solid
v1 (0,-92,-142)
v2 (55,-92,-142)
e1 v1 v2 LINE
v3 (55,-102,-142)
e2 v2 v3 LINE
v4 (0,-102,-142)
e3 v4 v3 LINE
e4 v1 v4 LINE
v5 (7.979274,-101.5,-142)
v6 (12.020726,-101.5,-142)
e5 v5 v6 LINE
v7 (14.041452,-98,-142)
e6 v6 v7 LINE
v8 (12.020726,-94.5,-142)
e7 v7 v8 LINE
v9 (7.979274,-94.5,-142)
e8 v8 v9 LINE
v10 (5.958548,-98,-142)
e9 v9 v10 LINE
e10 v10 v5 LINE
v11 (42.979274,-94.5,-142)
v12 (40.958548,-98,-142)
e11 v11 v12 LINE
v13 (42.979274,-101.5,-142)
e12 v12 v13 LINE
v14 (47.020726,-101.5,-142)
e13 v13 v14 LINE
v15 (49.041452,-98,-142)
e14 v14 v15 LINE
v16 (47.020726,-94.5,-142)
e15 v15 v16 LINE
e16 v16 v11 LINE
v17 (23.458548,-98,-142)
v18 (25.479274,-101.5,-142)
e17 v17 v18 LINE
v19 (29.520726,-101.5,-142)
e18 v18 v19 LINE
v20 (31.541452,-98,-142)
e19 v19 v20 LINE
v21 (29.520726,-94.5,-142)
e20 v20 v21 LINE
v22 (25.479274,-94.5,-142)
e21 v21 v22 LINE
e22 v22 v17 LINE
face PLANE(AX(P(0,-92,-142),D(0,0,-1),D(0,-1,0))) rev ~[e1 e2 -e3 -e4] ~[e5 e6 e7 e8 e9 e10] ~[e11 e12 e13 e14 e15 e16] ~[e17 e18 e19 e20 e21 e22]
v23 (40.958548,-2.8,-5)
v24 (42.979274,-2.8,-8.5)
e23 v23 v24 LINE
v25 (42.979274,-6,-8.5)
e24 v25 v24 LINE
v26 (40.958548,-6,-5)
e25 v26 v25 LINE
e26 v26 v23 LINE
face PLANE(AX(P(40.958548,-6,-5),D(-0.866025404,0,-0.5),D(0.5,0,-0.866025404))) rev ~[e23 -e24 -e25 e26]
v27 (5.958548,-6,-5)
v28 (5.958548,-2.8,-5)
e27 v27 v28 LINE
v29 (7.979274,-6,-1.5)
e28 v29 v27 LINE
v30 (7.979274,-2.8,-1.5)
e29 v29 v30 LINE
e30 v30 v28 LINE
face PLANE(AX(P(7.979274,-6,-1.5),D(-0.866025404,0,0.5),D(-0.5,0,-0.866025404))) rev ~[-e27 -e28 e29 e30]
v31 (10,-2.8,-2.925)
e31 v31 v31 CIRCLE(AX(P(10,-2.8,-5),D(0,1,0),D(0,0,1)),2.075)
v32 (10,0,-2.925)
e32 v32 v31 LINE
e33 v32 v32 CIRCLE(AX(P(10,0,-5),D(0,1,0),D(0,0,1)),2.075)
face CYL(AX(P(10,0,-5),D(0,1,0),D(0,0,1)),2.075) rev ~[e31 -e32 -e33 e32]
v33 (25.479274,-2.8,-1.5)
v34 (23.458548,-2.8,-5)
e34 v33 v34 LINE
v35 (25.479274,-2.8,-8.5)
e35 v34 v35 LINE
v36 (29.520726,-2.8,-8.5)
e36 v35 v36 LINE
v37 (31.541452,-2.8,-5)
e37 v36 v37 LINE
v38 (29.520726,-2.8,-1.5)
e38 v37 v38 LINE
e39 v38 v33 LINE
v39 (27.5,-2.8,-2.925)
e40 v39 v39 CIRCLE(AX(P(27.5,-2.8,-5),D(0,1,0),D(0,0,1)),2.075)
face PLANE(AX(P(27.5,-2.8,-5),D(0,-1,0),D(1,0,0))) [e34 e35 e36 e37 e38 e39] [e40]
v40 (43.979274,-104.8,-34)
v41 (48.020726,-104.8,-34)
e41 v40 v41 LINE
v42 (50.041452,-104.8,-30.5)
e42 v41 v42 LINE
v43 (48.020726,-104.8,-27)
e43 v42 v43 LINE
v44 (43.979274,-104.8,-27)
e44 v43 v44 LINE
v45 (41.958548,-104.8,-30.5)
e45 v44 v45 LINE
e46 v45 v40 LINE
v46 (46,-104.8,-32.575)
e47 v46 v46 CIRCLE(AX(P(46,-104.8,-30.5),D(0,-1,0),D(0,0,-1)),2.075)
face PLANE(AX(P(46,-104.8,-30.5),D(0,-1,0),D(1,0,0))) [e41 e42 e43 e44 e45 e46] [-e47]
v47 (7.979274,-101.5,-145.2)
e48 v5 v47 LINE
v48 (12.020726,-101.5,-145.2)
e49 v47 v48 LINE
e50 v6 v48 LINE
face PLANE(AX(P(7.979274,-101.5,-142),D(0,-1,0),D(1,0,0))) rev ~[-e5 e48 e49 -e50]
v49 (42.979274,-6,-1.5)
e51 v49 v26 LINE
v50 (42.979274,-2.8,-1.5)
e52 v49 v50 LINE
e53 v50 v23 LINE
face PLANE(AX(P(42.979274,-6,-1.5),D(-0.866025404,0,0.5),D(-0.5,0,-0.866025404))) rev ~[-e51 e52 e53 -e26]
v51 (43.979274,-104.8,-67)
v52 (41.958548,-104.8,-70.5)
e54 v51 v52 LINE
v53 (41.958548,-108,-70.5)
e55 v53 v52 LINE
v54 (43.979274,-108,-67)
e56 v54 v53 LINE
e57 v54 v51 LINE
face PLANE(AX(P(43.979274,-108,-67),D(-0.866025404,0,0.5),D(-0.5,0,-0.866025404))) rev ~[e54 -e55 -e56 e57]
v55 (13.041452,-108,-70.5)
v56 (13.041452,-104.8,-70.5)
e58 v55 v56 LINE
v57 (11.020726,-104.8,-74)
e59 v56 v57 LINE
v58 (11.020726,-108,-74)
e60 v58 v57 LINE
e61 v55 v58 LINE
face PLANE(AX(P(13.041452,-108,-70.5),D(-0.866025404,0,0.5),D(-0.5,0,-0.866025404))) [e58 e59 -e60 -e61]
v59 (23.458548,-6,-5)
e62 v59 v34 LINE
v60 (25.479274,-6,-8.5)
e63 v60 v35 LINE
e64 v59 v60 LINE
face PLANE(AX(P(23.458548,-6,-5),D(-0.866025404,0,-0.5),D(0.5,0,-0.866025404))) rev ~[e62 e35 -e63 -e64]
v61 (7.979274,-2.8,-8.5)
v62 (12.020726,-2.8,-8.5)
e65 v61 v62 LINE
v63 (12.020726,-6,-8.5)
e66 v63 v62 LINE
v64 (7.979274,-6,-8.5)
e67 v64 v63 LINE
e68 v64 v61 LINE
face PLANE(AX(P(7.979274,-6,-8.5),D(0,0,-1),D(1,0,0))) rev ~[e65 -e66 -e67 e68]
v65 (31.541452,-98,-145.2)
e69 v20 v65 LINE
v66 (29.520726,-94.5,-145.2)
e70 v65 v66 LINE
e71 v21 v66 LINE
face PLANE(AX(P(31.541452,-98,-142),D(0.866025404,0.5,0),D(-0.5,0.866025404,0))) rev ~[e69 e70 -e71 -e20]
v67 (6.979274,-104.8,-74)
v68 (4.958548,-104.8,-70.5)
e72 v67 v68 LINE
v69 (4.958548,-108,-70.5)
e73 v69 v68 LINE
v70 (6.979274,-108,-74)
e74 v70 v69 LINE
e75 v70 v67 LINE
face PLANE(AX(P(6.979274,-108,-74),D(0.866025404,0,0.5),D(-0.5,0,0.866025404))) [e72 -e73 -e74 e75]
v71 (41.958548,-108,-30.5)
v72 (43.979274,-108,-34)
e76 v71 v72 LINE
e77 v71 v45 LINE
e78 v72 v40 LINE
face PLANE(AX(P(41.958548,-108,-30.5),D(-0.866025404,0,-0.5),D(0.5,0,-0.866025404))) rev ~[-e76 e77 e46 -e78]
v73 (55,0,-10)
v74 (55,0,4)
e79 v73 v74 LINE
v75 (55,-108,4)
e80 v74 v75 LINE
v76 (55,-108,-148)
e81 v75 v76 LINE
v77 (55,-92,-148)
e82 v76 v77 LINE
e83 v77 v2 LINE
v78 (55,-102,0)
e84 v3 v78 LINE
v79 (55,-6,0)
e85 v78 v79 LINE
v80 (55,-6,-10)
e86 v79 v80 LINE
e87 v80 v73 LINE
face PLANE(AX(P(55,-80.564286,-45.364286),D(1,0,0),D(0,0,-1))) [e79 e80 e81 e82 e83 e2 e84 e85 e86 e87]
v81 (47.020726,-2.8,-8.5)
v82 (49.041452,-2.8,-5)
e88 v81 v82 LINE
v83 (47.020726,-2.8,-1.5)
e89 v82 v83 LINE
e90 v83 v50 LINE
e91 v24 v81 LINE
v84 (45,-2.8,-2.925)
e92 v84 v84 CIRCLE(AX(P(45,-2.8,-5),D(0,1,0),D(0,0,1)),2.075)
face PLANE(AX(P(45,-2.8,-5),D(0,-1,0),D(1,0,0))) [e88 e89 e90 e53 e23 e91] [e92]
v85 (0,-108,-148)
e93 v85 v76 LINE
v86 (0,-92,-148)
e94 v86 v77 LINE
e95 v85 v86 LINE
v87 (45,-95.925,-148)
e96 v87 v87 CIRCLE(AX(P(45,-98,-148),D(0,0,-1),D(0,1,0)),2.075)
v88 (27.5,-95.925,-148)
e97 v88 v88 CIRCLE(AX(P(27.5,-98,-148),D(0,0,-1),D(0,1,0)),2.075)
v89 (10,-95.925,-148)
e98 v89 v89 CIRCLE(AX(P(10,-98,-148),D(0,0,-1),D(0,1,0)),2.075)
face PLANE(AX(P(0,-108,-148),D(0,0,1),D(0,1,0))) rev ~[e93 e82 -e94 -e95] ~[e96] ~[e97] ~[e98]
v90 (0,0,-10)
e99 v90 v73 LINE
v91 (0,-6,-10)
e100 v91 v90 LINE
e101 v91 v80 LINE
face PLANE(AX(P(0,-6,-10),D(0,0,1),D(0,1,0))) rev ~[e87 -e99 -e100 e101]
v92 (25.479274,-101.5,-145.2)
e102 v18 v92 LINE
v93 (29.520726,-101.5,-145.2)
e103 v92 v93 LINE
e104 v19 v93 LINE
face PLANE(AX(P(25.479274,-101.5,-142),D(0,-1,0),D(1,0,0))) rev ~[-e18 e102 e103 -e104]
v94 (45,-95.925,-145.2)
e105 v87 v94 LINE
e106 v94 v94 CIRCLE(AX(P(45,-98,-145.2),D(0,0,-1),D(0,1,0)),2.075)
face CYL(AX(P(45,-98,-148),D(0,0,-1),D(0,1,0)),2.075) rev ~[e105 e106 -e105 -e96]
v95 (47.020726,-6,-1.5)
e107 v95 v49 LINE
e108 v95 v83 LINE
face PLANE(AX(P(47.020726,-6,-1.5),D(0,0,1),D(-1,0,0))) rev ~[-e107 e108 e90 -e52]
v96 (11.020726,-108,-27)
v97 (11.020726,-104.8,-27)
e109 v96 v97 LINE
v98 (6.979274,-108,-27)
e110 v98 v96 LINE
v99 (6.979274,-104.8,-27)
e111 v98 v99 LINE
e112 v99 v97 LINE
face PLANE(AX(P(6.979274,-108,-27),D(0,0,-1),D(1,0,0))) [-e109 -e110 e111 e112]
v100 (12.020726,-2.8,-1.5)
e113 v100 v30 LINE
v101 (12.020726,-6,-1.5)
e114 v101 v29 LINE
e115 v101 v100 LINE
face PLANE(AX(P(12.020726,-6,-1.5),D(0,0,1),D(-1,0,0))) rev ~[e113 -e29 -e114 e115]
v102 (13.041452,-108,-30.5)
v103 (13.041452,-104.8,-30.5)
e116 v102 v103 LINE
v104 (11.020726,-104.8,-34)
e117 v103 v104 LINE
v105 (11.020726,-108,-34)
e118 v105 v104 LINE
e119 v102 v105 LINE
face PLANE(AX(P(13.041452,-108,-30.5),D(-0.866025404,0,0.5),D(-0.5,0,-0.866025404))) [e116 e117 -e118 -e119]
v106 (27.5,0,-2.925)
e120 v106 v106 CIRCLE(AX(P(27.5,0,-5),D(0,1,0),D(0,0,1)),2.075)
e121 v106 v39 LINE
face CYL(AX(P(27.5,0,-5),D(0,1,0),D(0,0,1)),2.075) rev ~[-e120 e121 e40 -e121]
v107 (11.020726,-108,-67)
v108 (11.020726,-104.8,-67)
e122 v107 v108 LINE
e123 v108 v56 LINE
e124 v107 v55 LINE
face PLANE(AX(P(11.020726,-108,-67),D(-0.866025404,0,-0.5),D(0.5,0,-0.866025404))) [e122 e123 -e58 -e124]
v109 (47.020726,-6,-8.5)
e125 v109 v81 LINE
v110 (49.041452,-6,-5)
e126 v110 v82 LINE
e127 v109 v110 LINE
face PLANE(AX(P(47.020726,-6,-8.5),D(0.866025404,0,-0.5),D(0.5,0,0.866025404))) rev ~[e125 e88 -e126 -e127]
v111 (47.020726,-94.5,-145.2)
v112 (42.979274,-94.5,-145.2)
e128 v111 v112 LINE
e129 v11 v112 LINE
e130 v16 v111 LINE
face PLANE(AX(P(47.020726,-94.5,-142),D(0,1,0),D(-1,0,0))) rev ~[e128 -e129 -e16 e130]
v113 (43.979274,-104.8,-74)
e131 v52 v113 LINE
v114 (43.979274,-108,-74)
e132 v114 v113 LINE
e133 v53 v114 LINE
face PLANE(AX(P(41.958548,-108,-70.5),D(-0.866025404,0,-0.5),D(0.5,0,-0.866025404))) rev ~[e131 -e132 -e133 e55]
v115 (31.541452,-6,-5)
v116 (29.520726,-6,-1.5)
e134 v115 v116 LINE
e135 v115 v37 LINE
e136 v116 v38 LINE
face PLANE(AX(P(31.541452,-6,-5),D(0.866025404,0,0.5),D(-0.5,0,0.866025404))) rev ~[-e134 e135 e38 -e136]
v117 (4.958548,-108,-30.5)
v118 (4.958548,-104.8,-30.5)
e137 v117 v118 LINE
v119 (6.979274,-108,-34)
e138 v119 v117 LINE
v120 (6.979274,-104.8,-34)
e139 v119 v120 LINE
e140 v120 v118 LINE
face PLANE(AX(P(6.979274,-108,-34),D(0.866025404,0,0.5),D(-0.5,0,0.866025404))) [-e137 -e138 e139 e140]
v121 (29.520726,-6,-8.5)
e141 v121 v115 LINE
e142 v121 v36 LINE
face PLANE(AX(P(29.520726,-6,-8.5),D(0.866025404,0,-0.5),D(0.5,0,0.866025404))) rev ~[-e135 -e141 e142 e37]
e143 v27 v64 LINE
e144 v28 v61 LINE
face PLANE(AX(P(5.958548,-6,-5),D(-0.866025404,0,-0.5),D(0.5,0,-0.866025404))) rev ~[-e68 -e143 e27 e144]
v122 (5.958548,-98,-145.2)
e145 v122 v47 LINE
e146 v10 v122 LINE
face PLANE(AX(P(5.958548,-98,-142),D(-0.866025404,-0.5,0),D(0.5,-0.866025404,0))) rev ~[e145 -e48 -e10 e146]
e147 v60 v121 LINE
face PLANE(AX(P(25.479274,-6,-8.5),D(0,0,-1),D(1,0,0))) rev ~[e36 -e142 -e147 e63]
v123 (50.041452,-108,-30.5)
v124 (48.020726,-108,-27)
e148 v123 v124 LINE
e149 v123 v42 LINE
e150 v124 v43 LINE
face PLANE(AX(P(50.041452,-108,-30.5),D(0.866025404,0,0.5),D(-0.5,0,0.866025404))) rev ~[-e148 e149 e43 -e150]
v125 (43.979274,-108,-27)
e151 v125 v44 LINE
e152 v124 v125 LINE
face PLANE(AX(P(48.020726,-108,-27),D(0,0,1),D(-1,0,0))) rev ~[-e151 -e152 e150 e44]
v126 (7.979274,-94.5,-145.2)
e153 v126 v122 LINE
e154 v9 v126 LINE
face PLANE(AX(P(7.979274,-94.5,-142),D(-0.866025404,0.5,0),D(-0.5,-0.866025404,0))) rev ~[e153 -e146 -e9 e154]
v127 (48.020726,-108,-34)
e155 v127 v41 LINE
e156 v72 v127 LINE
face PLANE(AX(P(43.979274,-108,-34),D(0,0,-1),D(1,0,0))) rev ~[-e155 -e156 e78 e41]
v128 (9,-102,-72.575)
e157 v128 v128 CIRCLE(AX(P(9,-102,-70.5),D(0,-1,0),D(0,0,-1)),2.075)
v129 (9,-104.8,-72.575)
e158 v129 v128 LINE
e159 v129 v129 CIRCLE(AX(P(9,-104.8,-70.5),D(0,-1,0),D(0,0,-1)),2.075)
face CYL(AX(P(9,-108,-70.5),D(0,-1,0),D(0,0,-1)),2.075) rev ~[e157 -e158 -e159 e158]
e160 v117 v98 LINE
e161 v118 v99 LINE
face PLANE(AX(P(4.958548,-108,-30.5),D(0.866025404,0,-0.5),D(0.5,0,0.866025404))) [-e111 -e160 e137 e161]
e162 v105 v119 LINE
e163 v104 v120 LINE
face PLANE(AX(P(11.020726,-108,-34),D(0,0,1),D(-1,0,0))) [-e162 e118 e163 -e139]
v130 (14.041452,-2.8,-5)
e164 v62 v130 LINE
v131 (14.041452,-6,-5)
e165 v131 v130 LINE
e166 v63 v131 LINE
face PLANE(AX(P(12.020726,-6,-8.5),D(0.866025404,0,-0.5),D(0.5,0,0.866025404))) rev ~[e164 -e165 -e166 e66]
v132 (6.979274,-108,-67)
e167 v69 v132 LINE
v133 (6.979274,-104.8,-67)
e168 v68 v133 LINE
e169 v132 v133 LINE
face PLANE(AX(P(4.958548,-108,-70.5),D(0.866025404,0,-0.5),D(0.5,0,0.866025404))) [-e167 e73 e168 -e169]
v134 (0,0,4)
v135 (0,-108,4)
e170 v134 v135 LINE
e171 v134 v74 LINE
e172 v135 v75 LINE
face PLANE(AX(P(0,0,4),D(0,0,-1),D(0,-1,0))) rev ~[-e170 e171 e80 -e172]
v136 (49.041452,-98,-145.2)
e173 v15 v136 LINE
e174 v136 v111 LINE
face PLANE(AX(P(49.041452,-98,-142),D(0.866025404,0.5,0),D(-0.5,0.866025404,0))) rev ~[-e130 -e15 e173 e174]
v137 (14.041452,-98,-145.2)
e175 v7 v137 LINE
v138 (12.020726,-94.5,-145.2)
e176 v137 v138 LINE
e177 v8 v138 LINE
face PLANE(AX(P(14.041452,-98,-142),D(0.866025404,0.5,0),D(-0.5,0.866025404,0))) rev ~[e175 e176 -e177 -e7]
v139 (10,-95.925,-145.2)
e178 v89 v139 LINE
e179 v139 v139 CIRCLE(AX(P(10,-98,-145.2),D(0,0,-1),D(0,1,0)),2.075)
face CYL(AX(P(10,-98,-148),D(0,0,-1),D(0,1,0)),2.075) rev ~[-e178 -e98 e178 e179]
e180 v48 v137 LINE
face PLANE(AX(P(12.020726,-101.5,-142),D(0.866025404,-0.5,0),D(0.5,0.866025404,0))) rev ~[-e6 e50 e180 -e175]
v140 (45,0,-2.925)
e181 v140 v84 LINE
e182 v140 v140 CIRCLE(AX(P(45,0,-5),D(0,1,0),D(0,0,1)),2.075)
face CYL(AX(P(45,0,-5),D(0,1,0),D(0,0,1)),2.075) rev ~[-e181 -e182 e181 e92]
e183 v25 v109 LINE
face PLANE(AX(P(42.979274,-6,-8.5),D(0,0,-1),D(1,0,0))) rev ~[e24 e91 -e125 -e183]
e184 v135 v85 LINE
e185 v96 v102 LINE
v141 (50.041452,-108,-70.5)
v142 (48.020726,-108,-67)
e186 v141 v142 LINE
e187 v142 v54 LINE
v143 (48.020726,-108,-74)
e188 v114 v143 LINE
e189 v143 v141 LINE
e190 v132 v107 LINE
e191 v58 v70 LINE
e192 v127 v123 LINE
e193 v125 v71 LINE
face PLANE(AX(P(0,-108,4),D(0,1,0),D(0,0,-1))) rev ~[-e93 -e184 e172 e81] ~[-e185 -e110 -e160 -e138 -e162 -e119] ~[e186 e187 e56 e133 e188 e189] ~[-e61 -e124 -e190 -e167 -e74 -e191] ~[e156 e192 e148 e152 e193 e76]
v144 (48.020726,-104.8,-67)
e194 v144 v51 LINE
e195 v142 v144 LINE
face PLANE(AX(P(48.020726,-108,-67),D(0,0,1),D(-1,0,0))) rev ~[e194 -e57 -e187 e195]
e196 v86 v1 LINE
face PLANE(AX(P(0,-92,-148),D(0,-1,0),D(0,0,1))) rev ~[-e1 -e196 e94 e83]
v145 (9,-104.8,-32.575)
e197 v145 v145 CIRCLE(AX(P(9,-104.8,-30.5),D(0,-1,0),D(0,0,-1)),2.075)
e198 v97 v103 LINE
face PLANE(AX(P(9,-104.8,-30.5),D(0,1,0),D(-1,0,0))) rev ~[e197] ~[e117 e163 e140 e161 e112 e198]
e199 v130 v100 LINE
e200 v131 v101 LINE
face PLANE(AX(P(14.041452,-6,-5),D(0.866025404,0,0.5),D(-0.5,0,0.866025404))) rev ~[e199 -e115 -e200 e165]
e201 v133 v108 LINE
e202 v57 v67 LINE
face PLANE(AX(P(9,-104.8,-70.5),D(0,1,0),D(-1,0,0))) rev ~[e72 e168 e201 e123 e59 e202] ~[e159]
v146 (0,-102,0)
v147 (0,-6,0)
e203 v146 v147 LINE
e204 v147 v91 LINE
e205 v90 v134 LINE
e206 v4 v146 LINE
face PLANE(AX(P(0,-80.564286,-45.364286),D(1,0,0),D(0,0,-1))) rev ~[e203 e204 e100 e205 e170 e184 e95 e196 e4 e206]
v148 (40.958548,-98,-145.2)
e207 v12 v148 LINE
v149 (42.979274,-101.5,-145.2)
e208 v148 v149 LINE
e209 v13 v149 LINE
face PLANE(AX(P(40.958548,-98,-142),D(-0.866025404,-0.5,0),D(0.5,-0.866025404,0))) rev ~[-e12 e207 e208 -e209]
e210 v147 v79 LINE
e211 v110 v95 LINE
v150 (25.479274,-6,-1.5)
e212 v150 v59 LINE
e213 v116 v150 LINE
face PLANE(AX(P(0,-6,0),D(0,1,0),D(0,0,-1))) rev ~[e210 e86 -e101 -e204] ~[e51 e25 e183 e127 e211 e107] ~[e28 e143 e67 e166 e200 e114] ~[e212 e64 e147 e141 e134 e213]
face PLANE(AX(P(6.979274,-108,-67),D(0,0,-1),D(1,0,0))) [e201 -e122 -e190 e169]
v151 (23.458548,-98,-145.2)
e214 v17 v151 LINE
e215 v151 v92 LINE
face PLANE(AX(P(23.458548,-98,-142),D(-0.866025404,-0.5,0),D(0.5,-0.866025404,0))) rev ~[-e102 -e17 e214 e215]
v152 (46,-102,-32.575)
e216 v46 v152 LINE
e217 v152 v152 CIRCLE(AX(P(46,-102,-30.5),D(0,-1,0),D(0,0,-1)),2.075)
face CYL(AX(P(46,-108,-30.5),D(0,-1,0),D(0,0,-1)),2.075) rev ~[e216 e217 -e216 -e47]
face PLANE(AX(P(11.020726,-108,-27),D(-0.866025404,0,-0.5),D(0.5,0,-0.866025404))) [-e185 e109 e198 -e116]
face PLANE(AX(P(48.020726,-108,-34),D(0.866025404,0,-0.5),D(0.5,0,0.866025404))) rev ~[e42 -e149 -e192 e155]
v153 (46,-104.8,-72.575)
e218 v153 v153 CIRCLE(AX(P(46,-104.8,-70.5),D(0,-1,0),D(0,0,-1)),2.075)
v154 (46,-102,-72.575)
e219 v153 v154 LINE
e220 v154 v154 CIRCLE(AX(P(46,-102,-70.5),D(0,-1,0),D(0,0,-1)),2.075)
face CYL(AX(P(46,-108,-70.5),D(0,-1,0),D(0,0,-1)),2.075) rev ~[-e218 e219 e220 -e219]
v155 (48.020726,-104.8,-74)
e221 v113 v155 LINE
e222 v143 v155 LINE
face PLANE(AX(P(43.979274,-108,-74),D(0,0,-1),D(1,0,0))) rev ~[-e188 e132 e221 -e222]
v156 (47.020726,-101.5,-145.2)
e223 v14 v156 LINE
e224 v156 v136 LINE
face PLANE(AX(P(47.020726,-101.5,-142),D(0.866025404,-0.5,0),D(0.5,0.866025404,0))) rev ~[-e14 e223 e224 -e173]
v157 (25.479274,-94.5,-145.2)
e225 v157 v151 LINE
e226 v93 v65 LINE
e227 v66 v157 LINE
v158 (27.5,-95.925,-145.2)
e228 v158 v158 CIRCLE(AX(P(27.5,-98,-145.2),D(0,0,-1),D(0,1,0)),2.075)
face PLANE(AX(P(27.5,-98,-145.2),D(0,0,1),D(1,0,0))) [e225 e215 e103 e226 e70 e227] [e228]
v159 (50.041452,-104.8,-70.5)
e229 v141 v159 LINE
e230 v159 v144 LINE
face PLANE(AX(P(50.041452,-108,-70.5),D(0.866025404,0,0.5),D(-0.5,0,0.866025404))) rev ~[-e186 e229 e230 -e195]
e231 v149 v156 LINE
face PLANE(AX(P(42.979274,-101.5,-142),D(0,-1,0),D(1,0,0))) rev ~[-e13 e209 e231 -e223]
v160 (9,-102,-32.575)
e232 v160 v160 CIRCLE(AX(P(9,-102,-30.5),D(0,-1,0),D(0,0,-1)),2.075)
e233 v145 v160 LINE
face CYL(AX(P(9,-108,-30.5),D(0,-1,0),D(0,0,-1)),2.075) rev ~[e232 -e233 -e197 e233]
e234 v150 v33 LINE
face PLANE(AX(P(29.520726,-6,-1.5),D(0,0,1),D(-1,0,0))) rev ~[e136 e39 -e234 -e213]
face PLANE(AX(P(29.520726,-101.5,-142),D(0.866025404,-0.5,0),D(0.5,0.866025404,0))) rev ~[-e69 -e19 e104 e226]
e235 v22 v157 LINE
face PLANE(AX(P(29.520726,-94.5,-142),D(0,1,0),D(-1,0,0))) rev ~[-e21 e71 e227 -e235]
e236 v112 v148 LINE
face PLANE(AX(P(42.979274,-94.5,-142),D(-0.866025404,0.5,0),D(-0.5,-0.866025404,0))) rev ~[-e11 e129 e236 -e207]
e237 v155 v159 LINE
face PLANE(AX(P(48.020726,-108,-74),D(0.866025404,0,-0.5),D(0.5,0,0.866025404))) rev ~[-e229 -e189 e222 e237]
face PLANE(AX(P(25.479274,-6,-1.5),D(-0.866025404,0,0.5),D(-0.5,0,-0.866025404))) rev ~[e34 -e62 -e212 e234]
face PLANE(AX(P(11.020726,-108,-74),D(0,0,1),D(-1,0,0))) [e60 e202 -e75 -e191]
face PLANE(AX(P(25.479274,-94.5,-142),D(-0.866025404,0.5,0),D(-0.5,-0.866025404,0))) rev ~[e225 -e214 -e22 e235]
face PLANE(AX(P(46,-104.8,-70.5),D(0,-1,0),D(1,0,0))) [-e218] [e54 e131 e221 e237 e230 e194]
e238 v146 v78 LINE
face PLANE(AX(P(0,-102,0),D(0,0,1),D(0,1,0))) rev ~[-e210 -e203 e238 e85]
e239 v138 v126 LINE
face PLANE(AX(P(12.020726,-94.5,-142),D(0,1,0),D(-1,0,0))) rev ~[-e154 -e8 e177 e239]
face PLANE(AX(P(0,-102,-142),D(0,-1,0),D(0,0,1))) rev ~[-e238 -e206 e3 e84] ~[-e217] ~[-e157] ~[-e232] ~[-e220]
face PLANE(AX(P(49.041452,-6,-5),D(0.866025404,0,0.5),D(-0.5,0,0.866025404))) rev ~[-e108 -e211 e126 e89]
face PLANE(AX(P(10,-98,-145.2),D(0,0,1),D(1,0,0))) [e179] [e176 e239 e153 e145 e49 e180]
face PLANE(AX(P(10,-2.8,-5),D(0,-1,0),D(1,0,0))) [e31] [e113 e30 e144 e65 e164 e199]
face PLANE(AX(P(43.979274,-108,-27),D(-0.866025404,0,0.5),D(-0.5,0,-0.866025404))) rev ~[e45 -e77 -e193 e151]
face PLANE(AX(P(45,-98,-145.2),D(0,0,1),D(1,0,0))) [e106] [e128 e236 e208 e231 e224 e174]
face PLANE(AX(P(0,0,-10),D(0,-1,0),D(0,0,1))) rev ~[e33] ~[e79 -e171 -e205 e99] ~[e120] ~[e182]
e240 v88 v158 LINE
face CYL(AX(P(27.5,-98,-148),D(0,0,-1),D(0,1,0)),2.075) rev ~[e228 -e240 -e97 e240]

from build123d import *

# Parameters (mm, degrees)
BOSS_EXTRUDE1_DEPTH = 55
CUT_EXTRUDE1_REACH  = 193.293
SKETCH2_R           = 2.075
CUT_EXTRUDE2_REACH  = 196.404
SKETCH3_R           = 2.075
CUT_EXTRUDE3_DEPTH  = 3.2
CUT_EXTRUDE4_DEPTH  = 3.2
CUT_EXTRUDE5_REACH  = 193.293
SKETCH6_R           = 2.075
CUT_EXTRUDE6_DEPTH  = 3.2


with BuildPart() as part:
    # Sketch1 → Boss-Extrude1 (new body)
    with BuildSketch(Plane(origin=(0, 0, 0), x_dir=(0, 0, -1), z_dir=(1, 0, 0))):
        Polygon((0, -102), (0, -6), (10, -6), (10, 0), (0, 0), (-4, 0), (-4, -108), (148, -108), (148, -92), (142, -92), (142, -102), align=None)
    extrude(amount=BOSS_EXTRUDE1_DEPTH)

    # Sketch2 → Cut-Extrude1 (cut, up to next)
    with BuildSketch(Plane(origin=(0, 0, 0), x_dir=(1, 0, 0), z_dir=(0, 1, 0)), mode=Mode.PRIVATE) as cut_extrude1_sk1:
        with Locations(Location((10, 5, 0), (0, 0, 270))):
            Circle(SKETCH2_R)
    cut_extrude1_tool1 = extrude(cut_extrude1_sk1.sketch, amount=-CUT_EXTRUDE1_REACH, mode=Mode.PRIVATE) & part.part
    # Sketch2 → Cut-Extrude1 (cut, up to next)
    with BuildSketch(Plane(origin=(0, 0, 0), x_dir=(1, 0, 0), z_dir=(0, 1, 0)), mode=Mode.PRIVATE) as cut_extrude1_sk2:
        with Locations(Location((27.5, 5, 0), (0, 0, 270))):
            Circle(SKETCH2_R)
    cut_extrude1_tool2 = extrude(cut_extrude1_sk2.sketch, amount=-CUT_EXTRUDE1_REACH, mode=Mode.PRIVATE) & part.part
    # Sketch2 → Cut-Extrude1 (cut, up to next)
    with BuildSketch(Plane(origin=(0, 0, 0), x_dir=(1, 0, 0), z_dir=(0, 1, 0)), mode=Mode.PRIVATE) as cut_extrude1_sk3:
        with Locations(Location((45, 5, 0), (0, 0, 270))):
            Circle(SKETCH2_R)
    cut_extrude1_tool3 = extrude(cut_extrude1_sk3.sketch, amount=-CUT_EXTRUDE1_REACH, mode=Mode.PRIVATE) & part.part
    add(cut_extrude1_tool1.solids().sort_by_distance((10, 0, -5))[0], mode=Mode.SUBTRACT)
    add(cut_extrude1_tool2.solids().sort_by_distance((27.5, 0, -5))[0], mode=Mode.SUBTRACT)
    add(cut_extrude1_tool3.solids().sort_by_distance((45, 0, -5))[0], mode=Mode.SUBTRACT)

    # Sketch3 → Cut-Extrude2 (cut, up to next)
    with BuildSketch(Plane(origin=(0, 0, -148), x_dir=(-1, 0, 0), z_dir=(0, 0, -1)), mode=Mode.PRIVATE) as cut_extrude2_sk1:
        with Locations(Location((-45, -98, 0), (0, 0, 90))):
            Circle(SKETCH3_R)
    cut_extrude2_tool1 = extrude(cut_extrude2_sk1.sketch, amount=-CUT_EXTRUDE2_REACH, mode=Mode.PRIVATE) & part.part
    # Sketch3 → Cut-Extrude2 (cut, up to next)
    with BuildSketch(Plane(origin=(0, 0, -148), x_dir=(-1, 0, 0), z_dir=(0, 0, -1)), mode=Mode.PRIVATE) as cut_extrude2_sk2:
        with Locations(Location((-27.5, -98, 0), (0, 0, 90))):
            Circle(SKETCH3_R)
    cut_extrude2_tool2 = extrude(cut_extrude2_sk2.sketch, amount=-CUT_EXTRUDE2_REACH, mode=Mode.PRIVATE) & part.part
    # Sketch3 → Cut-Extrude2 (cut, up to next)
    with BuildSketch(Plane(origin=(0, 0, -148), x_dir=(-1, 0, 0), z_dir=(0, 0, -1)), mode=Mode.PRIVATE) as cut_extrude2_sk3:
        with Locations(Location((-10, -98, 0), (0, 0, 90))):
            Circle(SKETCH3_R)
    cut_extrude2_tool3 = extrude(cut_extrude2_sk3.sketch, amount=-CUT_EXTRUDE2_REACH, mode=Mode.PRIVATE) & part.part
    add(cut_extrude2_tool1.solids().sort_by_distance((45, -98, -148))[0], mode=Mode.SUBTRACT)
    add(cut_extrude2_tool2.solids().sort_by_distance((27.5, -98, -148))[0], mode=Mode.SUBTRACT)
    add(cut_extrude2_tool3.solids().sort_by_distance((10, -98, -148))[0], mode=Mode.SUBTRACT)

    # Sketch4 → Cut-Extrude3 (cut)
    with BuildSketch(Plane.XZ.offset(6)):
        Polygon((49.041451884, -5), (47.020725942, -1.5), (42.979274058, -1.5), (40.958548116, -5), (42.979274058, -8.5), (47.020725942, -8.5), align=None)
        Polygon((29.520725942, -8.5), (31.541451884, -5), (29.520725942, -1.5), (25.479274058, -1.5), (23.458548116, -5), (25.479274058, -8.5), align=None)
        Polygon((14.041451884, -5), (12.020725942, -1.5), (7.979274058, -1.5), (5.958548116, -5), (7.979274058, -8.5), (12.020725942, -8.5), align=None)
    extrude(amount=-CUT_EXTRUDE3_DEPTH, mode=Mode.SUBTRACT)

    # Sketch5 → Cut-Extrude4 (cut)
    with BuildSketch(Plane.XY.offset(-142)):
        Polygon((14.041451884, -98), (12.020725942, -94.5), (7.979274058, -94.5), (5.958548116, -98), (7.979274058, -101.5), (12.020725942, -101.5), align=None)
        Polygon((31.541451884, -98), (29.520725942, -94.5), (25.479274058, -94.5), (23.458548116, -98), (25.479274058, -101.5), (29.520725942, -101.5), align=None)
        Polygon((47.020725942, -101.5), (49.041451884, -98), (47.020725942, -94.5), (42.979274058, -94.5), (40.958548116, -98), (42.979274058, -101.5), align=None)
    extrude(amount=-CUT_EXTRUDE4_DEPTH, mode=Mode.SUBTRACT)

    # Sketch6 → Cut-Extrude5 (cut, up to next)
    with BuildSketch(Plane.XZ.offset(108), mode=Mode.PRIVATE) as cut_extrude5_sk1:
        with Locations(Location((46, -30.5, 0), (0, 0, 270))):
            Circle(SKETCH6_R)
    cut_extrude5_tool1 = extrude(cut_extrude5_sk1.sketch, amount=-CUT_EXTRUDE5_REACH, mode=Mode.PRIVATE) & part.part
    # Sketch6 → Cut-Extrude5 (cut, up to next)
    with BuildSketch(Plane.XZ.offset(108), mode=Mode.PRIVATE) as cut_extrude5_sk2:
        with Locations(Location((46, -70.5, 0), (0, 0, 270))):
            Circle(SKETCH6_R)
    cut_extrude5_tool2 = extrude(cut_extrude5_sk2.sketch, amount=-CUT_EXTRUDE5_REACH, mode=Mode.PRIVATE) & part.part
    # Sketch6 → Cut-Extrude5 (cut, up to next)
    with BuildSketch(Plane.XZ.offset(108), mode=Mode.PRIVATE) as cut_extrude5_sk3:
        with Locations(Location((9, -70.5, 0), (0, 0, 270))):
            Circle(SKETCH6_R)
    cut_extrude5_tool3 = extrude(cut_extrude5_sk3.sketch, amount=-CUT_EXTRUDE5_REACH, mode=Mode.PRIVATE) & part.part
    # Sketch6 → Cut-Extrude5 (cut, up to next)
    with BuildSketch(Plane.XZ.offset(108), mode=Mode.PRIVATE) as cut_extrude5_sk4:
        with Locations(Location((9, -30.5, 0), (0, 0, 270))):
            Circle(SKETCH6_R)
    cut_extrude5_tool4 = extrude(cut_extrude5_sk4.sketch, amount=-CUT_EXTRUDE5_REACH, mode=Mode.PRIVATE) & part.part
    add(cut_extrude5_tool1.solids().sort_by_distance((46, -108, -30.5))[0], mode=Mode.SUBTRACT)
    add(cut_extrude5_tool2.solids().sort_by_distance((46, -108, -70.5))[0], mode=Mode.SUBTRACT)
    add(cut_extrude5_tool3.solids().sort_by_distance((9, -108, -70.5))[0], mode=Mode.SUBTRACT)
    add(cut_extrude5_tool4.solids().sort_by_distance((9, -108, -30.5))[0], mode=Mode.SUBTRACT)

    # Sketch7 → Cut-Extrude6 (cut)
    with BuildSketch(Plane.XZ.offset(108)):
        Polygon((48.020725942, -27), (43.979274058, -27), (41.958548116, -30.5), (43.979274058, -34), (48.020725942, -34), (50.041451884, -30.5), align=None)
        Polygon((43.979274058, -74), (48.020725942, -74), (50.041451884, -70.5), (48.020725942, -67), (43.979274058, -67), (41.958548116, -70.5), align=None)
        Polygon((13.041451884, -70.5), (11.020725942, -74), (6.979274058, -74), (4.958548116, -70.5), (6.979274058, -67), (11.020725942, -67), align=None)
        Polygon((4.958548116, -30.5), (6.979274058, -27), (11.020725942, -27), (13.041451884, -30.5), (11.020725942, -34), (6.979274058, -34), align=None)
    extrude(amount=-CUT_EXTRUDE6_DEPTH, mode=Mode.SUBTRACT)


solid = part.part
